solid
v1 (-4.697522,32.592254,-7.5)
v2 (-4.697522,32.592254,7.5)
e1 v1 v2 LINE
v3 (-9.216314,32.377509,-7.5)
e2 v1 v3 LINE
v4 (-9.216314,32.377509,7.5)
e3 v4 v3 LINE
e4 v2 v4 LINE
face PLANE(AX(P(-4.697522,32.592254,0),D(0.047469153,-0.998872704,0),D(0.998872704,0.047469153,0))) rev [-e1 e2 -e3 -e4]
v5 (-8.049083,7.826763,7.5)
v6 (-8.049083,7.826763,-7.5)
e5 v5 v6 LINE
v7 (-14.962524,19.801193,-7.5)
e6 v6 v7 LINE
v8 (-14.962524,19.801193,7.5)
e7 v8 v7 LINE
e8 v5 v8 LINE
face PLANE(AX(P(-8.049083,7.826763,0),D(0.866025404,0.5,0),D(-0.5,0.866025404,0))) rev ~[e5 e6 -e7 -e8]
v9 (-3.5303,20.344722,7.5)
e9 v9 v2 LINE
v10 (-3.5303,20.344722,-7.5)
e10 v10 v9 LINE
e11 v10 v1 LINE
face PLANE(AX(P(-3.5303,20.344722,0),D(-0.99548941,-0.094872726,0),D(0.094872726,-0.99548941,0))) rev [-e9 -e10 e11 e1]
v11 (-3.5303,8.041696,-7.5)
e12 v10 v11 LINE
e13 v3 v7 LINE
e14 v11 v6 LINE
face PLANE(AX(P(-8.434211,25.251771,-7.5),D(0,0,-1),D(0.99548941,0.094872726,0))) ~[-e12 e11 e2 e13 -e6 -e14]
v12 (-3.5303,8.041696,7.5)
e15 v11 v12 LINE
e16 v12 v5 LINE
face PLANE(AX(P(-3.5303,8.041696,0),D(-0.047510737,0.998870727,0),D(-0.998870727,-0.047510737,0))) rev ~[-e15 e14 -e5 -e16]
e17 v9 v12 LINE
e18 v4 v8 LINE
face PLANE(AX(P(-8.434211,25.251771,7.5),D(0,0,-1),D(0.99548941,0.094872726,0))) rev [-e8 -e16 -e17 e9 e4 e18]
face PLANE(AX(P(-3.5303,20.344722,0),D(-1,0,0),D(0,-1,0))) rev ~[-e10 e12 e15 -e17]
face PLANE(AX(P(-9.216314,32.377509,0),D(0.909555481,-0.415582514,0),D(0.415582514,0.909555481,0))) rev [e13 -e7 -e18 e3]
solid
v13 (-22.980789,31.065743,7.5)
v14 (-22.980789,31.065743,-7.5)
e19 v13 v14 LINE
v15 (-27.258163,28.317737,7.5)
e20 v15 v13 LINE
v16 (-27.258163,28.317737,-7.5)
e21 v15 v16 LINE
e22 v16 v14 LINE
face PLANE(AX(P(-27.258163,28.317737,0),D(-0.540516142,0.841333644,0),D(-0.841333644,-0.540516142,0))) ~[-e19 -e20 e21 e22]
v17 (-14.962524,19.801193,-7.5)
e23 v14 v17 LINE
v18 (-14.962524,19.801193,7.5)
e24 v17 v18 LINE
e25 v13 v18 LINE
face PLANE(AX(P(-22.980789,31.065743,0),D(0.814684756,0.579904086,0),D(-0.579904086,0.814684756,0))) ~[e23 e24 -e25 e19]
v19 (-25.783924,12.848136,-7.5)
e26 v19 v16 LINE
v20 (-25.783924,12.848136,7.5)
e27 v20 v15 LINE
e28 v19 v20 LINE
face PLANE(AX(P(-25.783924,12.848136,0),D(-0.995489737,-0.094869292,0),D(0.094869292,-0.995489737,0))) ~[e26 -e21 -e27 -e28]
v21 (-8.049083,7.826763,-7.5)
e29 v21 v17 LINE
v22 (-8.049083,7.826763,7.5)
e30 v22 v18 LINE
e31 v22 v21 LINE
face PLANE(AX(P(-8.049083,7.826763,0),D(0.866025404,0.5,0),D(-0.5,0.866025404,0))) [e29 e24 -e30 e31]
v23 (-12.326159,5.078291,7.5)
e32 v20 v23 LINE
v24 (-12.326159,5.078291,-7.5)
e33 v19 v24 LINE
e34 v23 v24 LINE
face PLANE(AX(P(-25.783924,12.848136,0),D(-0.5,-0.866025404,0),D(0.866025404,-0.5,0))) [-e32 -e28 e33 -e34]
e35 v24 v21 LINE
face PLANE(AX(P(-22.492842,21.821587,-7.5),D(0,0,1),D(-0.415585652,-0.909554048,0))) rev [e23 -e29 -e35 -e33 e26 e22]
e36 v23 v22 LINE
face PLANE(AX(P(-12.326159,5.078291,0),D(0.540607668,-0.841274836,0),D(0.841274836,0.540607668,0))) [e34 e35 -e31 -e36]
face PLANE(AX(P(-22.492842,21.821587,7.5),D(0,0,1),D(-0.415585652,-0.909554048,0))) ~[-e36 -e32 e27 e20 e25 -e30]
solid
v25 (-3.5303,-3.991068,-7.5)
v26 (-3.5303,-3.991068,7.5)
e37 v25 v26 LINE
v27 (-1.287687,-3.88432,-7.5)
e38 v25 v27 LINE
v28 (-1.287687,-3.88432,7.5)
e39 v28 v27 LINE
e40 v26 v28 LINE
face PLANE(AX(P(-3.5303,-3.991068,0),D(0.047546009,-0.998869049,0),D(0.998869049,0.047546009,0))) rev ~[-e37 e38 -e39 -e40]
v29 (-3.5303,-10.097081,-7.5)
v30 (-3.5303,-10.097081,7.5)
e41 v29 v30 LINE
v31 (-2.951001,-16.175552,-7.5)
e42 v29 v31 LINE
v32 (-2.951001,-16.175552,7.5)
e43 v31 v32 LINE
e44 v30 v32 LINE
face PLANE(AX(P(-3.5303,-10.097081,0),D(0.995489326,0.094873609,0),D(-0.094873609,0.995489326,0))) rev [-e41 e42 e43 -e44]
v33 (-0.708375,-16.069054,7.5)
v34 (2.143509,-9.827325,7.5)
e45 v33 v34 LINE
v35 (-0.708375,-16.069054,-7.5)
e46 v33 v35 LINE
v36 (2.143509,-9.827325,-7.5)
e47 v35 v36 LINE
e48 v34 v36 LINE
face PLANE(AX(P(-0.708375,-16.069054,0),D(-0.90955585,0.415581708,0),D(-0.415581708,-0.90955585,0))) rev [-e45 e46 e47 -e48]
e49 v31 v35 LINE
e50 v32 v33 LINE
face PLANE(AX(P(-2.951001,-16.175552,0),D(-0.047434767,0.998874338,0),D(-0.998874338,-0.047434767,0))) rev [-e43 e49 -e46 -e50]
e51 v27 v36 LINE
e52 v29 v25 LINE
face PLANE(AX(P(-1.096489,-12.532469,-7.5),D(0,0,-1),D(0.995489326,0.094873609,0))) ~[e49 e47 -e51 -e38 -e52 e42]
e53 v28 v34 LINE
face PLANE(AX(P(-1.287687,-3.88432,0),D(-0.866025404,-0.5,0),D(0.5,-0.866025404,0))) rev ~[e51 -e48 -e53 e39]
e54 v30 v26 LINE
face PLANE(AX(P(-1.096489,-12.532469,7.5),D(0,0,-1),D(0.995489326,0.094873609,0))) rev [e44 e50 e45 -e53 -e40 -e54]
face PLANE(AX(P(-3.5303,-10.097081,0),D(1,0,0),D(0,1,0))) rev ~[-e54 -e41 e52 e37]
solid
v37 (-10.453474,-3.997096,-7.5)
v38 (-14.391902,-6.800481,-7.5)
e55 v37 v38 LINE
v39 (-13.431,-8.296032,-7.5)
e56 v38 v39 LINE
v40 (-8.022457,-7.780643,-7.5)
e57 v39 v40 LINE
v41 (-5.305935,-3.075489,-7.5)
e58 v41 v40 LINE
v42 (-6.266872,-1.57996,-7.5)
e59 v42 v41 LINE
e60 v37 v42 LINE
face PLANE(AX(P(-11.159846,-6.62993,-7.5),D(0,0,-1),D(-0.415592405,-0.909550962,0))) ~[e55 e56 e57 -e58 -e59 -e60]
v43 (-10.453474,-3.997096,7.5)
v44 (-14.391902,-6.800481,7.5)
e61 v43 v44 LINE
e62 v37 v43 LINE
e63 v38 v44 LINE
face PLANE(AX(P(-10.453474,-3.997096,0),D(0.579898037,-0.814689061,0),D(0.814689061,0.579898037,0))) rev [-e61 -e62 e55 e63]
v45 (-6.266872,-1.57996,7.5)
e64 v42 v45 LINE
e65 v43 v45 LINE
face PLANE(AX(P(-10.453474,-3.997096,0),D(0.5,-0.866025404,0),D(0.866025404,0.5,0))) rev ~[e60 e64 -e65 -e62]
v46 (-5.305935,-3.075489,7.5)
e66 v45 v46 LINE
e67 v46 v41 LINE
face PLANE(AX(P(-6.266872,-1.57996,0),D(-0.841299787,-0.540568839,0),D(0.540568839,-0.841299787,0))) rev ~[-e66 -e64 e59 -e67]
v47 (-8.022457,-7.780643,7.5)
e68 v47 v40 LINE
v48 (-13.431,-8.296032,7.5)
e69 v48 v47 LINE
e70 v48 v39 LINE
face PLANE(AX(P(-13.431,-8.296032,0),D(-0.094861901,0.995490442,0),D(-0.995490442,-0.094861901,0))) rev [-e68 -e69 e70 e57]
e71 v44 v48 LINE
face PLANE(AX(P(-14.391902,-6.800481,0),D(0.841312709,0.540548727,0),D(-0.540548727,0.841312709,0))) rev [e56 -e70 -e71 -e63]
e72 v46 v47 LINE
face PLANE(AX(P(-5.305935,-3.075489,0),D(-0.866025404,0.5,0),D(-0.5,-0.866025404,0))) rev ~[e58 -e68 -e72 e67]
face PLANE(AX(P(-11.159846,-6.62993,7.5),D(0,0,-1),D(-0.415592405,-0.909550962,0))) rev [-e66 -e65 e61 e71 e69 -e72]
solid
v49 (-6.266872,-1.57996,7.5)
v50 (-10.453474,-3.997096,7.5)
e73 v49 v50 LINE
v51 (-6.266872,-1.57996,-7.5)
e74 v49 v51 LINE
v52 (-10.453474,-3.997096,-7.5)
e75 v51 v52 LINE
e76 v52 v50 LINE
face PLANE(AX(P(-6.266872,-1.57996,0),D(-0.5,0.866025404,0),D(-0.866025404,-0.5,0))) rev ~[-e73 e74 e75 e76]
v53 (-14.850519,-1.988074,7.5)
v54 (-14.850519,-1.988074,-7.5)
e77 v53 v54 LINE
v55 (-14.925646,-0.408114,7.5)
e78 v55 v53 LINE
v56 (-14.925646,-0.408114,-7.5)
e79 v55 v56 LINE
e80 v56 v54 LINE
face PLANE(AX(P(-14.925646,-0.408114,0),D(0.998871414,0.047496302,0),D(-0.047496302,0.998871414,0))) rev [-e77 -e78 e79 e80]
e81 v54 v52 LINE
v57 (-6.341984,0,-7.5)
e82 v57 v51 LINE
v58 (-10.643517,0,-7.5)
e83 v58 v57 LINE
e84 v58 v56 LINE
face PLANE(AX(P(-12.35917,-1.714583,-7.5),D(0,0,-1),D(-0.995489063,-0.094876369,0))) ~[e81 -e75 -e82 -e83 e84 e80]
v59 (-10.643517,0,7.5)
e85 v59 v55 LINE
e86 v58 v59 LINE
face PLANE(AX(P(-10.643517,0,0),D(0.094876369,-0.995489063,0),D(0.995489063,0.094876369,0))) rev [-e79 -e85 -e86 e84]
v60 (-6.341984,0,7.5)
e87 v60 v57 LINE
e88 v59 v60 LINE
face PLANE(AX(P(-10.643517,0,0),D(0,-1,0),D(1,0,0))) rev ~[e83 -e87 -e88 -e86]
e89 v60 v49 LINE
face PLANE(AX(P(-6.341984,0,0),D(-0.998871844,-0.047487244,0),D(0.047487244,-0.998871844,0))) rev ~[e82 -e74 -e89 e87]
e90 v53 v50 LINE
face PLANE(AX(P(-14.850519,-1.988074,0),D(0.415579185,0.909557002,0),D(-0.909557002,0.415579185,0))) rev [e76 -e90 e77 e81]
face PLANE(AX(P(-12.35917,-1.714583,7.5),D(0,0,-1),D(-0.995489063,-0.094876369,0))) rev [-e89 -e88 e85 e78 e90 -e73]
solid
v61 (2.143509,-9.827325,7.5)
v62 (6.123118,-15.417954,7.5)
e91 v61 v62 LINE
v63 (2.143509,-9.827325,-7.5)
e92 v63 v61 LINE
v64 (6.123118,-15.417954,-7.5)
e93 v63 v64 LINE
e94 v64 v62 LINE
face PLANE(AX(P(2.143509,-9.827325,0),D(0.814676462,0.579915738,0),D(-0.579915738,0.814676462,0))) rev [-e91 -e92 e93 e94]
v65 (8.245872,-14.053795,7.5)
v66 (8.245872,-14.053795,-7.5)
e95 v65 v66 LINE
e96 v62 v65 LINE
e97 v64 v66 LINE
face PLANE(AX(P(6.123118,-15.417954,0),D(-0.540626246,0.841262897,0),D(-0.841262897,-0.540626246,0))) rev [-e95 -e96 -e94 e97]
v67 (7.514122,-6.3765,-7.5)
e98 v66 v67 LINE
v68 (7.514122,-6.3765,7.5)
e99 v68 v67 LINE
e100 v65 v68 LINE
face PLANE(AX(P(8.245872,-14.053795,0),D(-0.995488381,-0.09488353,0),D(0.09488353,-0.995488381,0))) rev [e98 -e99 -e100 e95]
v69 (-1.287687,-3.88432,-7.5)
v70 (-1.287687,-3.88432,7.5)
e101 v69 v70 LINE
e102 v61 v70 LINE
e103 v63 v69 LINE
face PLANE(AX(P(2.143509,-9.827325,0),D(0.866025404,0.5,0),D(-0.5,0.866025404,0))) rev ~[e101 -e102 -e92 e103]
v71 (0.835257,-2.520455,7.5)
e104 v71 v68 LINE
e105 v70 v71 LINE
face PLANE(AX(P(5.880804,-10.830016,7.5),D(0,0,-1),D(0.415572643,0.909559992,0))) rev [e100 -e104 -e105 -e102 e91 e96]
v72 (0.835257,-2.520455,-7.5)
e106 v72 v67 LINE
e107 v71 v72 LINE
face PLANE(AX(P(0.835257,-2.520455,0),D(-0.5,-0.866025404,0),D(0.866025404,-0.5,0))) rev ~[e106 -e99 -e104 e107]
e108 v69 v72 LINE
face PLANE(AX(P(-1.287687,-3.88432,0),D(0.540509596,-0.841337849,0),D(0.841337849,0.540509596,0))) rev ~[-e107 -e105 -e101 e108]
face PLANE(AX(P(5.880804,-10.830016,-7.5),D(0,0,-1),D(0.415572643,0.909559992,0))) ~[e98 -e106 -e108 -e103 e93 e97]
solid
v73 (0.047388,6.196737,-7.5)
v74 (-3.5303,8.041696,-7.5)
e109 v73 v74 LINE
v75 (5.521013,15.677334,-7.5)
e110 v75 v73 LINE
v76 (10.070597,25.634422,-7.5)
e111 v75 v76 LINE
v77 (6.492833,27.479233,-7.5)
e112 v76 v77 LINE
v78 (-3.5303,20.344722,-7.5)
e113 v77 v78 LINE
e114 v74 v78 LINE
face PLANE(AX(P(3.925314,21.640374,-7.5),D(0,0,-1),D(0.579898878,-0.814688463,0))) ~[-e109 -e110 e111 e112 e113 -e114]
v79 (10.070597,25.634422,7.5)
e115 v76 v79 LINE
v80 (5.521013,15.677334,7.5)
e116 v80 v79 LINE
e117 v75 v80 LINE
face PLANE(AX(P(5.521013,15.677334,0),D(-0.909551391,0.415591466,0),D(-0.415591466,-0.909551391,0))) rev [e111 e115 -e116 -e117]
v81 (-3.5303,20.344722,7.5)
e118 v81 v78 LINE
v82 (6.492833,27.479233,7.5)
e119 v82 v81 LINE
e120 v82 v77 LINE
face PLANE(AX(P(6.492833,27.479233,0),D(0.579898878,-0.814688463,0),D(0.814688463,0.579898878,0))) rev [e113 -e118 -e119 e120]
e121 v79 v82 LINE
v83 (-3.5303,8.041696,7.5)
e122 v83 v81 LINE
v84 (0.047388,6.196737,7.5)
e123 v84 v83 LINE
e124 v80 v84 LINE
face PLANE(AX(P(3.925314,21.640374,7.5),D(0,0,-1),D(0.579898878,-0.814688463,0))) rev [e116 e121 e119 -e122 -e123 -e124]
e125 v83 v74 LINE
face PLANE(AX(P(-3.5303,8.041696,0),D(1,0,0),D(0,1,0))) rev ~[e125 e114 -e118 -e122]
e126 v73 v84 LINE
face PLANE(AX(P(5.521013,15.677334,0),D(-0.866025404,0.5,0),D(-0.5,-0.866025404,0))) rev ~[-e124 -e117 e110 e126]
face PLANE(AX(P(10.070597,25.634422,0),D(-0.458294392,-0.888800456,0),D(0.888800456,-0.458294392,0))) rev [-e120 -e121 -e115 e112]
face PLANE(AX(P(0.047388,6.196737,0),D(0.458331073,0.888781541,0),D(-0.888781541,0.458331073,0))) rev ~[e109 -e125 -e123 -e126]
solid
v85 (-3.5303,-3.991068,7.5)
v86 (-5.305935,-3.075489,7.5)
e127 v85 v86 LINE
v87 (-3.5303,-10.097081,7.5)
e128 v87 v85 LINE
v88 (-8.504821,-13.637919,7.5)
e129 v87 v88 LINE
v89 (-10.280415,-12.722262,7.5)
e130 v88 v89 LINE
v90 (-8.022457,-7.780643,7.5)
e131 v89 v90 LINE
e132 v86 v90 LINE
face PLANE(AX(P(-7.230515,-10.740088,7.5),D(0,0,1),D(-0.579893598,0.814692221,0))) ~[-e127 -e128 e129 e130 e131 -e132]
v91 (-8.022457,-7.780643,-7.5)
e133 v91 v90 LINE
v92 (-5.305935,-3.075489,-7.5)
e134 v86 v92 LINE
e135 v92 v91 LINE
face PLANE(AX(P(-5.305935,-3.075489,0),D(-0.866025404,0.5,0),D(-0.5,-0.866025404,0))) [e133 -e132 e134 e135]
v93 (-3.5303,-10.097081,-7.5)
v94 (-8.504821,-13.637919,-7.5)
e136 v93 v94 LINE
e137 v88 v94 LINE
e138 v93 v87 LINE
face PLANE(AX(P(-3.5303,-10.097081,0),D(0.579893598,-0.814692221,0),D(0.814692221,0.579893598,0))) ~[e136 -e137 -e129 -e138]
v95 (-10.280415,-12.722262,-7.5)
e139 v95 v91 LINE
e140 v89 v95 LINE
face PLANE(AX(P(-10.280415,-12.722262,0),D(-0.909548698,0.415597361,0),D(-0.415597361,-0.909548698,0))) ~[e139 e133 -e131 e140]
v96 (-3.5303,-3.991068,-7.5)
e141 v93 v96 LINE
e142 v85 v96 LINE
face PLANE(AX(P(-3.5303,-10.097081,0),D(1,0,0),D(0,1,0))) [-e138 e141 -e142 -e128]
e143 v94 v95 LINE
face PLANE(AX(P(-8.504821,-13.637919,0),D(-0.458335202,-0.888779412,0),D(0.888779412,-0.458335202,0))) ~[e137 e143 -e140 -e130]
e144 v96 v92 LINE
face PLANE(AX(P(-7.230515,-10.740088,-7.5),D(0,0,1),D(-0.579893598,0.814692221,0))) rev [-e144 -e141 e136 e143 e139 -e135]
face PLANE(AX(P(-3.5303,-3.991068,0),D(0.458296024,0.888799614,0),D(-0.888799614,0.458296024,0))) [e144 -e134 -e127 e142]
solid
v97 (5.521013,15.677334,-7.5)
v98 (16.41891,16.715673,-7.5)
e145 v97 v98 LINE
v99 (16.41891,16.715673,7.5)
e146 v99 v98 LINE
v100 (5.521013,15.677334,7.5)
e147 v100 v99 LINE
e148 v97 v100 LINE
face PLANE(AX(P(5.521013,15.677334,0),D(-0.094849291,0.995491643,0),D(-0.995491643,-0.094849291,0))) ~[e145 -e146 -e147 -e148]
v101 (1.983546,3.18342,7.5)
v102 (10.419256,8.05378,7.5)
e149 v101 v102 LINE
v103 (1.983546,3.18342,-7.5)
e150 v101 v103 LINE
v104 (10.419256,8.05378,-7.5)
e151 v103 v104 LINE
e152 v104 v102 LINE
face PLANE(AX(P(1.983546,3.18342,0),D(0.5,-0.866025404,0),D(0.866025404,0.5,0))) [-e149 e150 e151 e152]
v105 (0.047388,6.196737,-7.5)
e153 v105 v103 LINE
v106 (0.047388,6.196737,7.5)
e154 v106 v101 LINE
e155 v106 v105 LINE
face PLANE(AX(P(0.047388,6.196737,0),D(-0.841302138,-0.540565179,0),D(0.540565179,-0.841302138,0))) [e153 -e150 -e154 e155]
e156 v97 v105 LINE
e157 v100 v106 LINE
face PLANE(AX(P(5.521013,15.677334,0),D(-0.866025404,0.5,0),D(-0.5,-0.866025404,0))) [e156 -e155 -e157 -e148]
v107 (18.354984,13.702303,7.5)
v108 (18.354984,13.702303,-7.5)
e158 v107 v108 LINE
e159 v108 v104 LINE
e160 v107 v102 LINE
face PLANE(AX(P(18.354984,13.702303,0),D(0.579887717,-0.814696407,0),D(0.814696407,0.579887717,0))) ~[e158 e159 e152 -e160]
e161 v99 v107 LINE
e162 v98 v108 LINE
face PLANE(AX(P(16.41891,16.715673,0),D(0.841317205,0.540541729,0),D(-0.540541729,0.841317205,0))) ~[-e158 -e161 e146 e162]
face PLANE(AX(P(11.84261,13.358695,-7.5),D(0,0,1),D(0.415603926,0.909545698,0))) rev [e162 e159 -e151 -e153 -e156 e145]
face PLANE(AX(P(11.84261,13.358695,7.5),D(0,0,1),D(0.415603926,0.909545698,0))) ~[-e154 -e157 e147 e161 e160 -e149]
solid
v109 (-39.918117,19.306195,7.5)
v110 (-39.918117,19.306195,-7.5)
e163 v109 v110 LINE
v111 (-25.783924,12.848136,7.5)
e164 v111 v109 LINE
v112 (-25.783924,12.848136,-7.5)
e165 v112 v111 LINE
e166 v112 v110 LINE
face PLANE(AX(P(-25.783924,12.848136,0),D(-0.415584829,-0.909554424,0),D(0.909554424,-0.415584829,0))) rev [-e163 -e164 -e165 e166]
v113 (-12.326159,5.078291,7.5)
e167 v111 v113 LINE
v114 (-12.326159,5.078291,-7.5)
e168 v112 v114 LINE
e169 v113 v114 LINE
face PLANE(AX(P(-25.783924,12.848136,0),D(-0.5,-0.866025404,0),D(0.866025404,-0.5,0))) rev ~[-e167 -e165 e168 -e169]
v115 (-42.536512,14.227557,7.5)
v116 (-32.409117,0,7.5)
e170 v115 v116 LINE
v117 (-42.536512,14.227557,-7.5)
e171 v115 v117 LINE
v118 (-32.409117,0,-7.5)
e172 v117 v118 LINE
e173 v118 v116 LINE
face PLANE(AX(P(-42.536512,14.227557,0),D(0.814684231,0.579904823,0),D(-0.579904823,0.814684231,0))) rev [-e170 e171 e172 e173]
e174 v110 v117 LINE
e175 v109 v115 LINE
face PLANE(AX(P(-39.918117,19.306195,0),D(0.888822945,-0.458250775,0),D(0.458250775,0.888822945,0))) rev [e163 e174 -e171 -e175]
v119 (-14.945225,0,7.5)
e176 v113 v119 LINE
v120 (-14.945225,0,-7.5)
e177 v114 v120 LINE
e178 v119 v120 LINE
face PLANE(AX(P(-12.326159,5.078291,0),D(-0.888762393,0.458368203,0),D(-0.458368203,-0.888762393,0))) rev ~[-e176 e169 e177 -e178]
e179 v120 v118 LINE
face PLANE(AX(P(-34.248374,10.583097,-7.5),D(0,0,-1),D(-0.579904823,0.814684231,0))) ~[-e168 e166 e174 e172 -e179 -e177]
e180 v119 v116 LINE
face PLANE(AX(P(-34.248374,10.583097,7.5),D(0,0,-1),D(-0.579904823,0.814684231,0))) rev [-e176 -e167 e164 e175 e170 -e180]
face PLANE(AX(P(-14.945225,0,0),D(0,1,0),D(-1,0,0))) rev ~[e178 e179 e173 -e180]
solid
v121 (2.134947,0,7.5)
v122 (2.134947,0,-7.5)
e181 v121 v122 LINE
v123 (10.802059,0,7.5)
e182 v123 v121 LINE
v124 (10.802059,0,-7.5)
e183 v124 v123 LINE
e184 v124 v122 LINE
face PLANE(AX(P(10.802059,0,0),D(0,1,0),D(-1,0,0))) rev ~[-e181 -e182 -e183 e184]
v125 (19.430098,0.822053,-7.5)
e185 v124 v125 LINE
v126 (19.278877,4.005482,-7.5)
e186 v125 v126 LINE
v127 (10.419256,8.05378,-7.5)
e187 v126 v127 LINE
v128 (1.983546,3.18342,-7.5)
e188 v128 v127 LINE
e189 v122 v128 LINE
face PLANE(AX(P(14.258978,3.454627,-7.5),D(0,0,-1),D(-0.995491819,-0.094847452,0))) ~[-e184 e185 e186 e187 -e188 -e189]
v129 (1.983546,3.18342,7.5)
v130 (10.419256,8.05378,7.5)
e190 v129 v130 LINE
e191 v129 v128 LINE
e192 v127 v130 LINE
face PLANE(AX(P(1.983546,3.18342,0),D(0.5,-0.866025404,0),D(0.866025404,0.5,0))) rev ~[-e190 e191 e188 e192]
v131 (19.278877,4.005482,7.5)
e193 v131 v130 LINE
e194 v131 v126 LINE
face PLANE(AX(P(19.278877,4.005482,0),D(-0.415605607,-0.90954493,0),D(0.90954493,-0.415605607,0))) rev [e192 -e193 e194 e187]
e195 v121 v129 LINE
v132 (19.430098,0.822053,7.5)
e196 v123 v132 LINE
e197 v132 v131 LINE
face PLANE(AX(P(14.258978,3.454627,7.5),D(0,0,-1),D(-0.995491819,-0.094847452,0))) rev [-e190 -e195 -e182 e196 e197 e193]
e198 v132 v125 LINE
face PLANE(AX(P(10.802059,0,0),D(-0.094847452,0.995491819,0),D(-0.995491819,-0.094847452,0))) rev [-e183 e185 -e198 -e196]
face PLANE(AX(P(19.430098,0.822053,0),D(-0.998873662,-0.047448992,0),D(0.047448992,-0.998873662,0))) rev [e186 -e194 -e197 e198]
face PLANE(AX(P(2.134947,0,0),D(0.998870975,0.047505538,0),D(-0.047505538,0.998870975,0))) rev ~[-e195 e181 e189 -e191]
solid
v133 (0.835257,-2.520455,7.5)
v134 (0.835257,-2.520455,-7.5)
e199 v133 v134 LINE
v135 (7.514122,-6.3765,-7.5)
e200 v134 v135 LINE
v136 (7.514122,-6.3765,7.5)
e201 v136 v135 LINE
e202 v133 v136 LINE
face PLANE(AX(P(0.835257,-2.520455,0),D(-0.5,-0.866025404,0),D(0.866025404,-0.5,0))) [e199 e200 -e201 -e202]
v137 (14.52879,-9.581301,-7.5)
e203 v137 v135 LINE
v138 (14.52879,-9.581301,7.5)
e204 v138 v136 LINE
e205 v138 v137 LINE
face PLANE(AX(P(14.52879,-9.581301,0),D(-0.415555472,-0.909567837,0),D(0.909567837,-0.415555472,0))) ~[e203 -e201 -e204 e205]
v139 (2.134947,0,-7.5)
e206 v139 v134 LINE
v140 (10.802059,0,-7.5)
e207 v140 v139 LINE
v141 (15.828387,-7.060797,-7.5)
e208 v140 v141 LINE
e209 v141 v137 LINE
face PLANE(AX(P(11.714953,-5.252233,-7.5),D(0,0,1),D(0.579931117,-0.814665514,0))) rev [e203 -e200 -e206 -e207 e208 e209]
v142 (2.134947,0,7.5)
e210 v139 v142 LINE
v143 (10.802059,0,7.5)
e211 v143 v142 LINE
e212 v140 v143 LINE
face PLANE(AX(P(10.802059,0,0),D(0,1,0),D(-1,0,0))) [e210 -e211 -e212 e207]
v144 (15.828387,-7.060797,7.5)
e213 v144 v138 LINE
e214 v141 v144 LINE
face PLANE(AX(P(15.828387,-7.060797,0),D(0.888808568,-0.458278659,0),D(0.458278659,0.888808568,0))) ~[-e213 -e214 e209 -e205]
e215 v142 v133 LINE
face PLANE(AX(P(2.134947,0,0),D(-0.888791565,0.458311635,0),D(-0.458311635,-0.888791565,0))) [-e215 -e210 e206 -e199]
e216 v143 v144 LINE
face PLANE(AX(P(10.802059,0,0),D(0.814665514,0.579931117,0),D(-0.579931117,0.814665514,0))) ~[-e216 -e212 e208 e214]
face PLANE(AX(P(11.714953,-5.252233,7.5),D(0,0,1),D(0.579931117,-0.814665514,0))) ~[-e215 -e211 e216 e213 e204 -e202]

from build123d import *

# Parameters (mm, degrees)
BOSS_EXTRU_1_DEPTH  = 7.5
BOSS_EXTRU_3_DEPTH  = 7.5
BOSS_EXTRU_4_DEPTH  = 7.5
BOSS_EXTRU_5_DEPTH  = 7.5
BOSS_EXTRU_6_DEPTH  = 7.5
BOSS_EXTRU_7_DEPTH  = 7.5
BOSS_EXTRU_8_DEPTH  = 7.5
BOSS_EXTRU_9_DEPTH  = 7.5
BOSS_EXTRU_10_DEPTH = 7.5
BOSS_EXTRU_11_DEPTH = 7.5
BOSS_EXTRU_12_DEPTH = 7.5
BOSS_EXTRU_13_DEPTH = 7.5


with BuildPart() as part:
    # Esquisse20 → Boss.-Extru.1 (new body, symmetric)
    with BuildSketch(Plane.XY):
        Polygon((-10.643517195, 0), (-6.341984433, 0), (-6.266871728, -1.579960424), (-10.453473573, -3.997096126), align=None)
    extrude(amount=BOSS_EXTRU_1_DEPTH, both=True)

    # Symétrie1: part across plane


with BuildPart() as body_2:
    # Esquisse21 → Boss.-Extru.3 (new body, symmetric)
    with BuildSketch(Plane.XY):
        Polygon((-5.305934527, -3.075489216), (-8.022456613, -7.780643489), (-3.5303, -10.097081162), (-3.5303, -3.991068195), align=None)
    extrude(amount=BOSS_EXTRU_3_DEPTH, both=True)

    # Symétrie3: body 2 across plane


with BuildPart() as body_3:
    # Esquisse22 → Boss.-Extru.4 (new body, symmetric)
    with BuildSketch(Plane.XY):
        Polygon((-6.266871728, -1.579960424), (-5.305934527, -3.075489216), (-8.022456613, -7.780643489), (-10.453473573, -3.997096126), align=None)
    extrude(amount=BOSS_EXTRU_4_DEPTH, both=True)

    # Symétrie2: body 3 across plane


with BuildPart() as body_4:
    # Esquisse23 → Boss.-Extru.5 (new body, symmetric)
    with BuildSketch(Plane.XY):
        Polygon((-3.5303, -3.991068195), (-1.287686712, -3.884320156), (2.143508969, -9.827325407), (-3.5303, -10.097081162), align=None)
    extrude(amount=BOSS_EXTRU_5_DEPTH, both=True)

    # Symétrie4: body 4 across plane


with BuildPart() as body_5:
    # Esquisse24 → Boss.-Extru.6 (new body, symmetric)
    with BuildSketch(Plane.XY):
        Polygon((-1.287686712, -3.884320156), (0.835256513, -2.520455228), (7.51412158, -6.376499772), (2.143508969, -9.827325407), align=None)
    extrude(amount=BOSS_EXTRU_6_DEPTH, both=True)

    # Symétrie5: body 5 across plane


with BuildPart() as body_6:
    # Esquisse25 → Boss.-Extru.7 (new body, symmetric)
    with BuildSketch(Plane.XY):
        Polygon((7.51412158, -6.376499772), (10.80205889, 0), (2.134947016, 0), (0.835256513, -2.520455228), align=None)
    extrude(amount=BOSS_EXTRU_7_DEPTH, both=True)

    # Symétrie6: body 6 across plane


with BuildPart() as body_7:
    # Esquisse26 → Boss.-Extru.8 (new body, symmetric)
    with BuildSketch(Plane.XY):
        Polygon((10.80205889, 0), (2.134947016, 0), (1.983545978, 3.18342046), (10.419255773, 8.053779781), align=None)
    extrude(amount=BOSS_EXTRU_8_DEPTH, both=True)

    # Symétrie7: body 7 across plane


with BuildPart() as body_8:
    # Esquisse27 → Boss.-Extru.9 (new body, symmetric)
    with BuildSketch(Plane.XY):
        Polygon((1.983545978, 3.18342046), (10.419255773, 8.053779781), (5.521013255, 15.677334433), (0.047387798, 6.19673704), align=None)
    extrude(amount=BOSS_EXTRU_9_DEPTH, both=True)

    # Symétrie8: body 8 across plane


with BuildPart() as body_9:
    # Esquisse28 → Boss.-Extru.10 (new body, symmetric)
    with BuildSketch(Plane.XY):
        Polygon((0.047387798, 6.19673704), (-3.5303, 8.041696023), (-3.5303, 20.344722064), (5.521013255, 15.677334433), align=None)
    extrude(amount=BOSS_EXTRU_10_DEPTH, both=True)

    # Symétrie9: body 9 across plane


with BuildPart() as body_10:
    # Esquisse29 → Boss.-Extru.11 (new body, symmetric)
    with BuildSketch(Plane.XY):
        Polygon((-3.5303, 8.041696023), (-8.049083477, 7.82676257), (-14.962524173, 19.801193112), (-3.5303, 20.344722064), align=None)
    extrude(amount=BOSS_EXTRU_11_DEPTH, both=True)

    # Symétrie10: body 10 across plane


with BuildPart() as body_11:
    # Esquisse30 → Boss.-Extru.12 (new body, symmetric)
    with BuildSketch(Plane.XY):
        Polygon((-8.049083477, 7.82676257), (-14.962524173, 19.801193112), (-25.783924084, 12.848135855), (-12.326158681, 5.078291377), align=None)
    extrude(amount=BOSS_EXTRU_12_DEPTH, both=True)

    # Symétrie11: body 11 across plane


with BuildPart() as body_12:
    # Esquisse31 → Boss.-Extru.13 (new body, symmetric)
    with BuildSketch(Plane.XY):
        Polygon((-25.783924084, 12.848135855), (-12.326158681, 5.078291377), (-14.945224597, 0), (-32.409116649, 0), align=None)
    extrude(amount=BOSS_EXTRU_13_DEPTH, both=True)

    # Symétrie12: body 12 across plane


with BuildPart() as part_1:
    add(part.part)
    add(part.part.mirror(Plane(origin=(-10.453473573, -3.997096126, 7.5), x_dir=(0, 0, 1), z_dir=(-0.998871629, -0.047491773, 0))))


with BuildPart() as body_3_1:
    add(body_3.part)
    add(body_3.part.mirror(Plane(origin=(-8.022456613, -7.780643489, 7.5), x_dir=(0, 0, 1), z_dir=(0.841306248, 0.540558783, 0))))


with BuildPart() as body_2_1:
    add(body_2.part)
    add(body_2.part.mirror(Plane(origin=(-8.022456613, -7.780643489, 7.5), x_dir=(0, 0, 1), z_dir=(0.458315613, 0.888789513, 0))))


with BuildPart() as body_4_1:
    add(body_4.part)
    add(body_4.part.mirror(Plane(origin=(2.143508969, -9.827325407, 7.5), x_dir=(0, 0, 1), z_dir=(-0.047490388, 0.998871695, 0))))


with BuildPart() as body_5_1:
    add(body_5.part)
    add(body_5.part.mirror(Plane(origin=(7.51412158, -6.376499772, 7.5), x_dir=(0, 0, 1), z_dir=(-0.540567922, 0.841300375, 0))))


with BuildPart() as body_6_1:
    add(body_6.part)
    add(body_6.part.mirror(Plane(origin=(7.51412158, -6.376499772, 7.5), x_dir=(0, 0, 1), z_dir=(-0.888800067, 0.458295147, 0))))


with BuildPart() as body_7_1:
    add(body_7.part)
    add(body_7.part.mirror(Plane(origin=(10.419255773, 8.053779781, 7.5), x_dir=(0, 0, 1), z_dir=(-0.998872319, -0.047477265, 0))))


with BuildPart() as body_8_1:
    add(body_8.part)
    add(body_8.part.mirror(Plane(origin=(10.419255773, 8.053779781, 7.5), x_dir=(0, 0, 1), z_dir=(-0.841309671, -0.540553454, 0))))


with BuildPart() as body_9_1:
    add(body_9.part)
    add(body_9.part.mirror(Plane(origin=(-3.5303, 20.344722064, 7.5), x_dir=(0, 0, 1), z_dir=(-0.458312733, -0.888790999, 0))))


with BuildPart() as body_10_1:
    add(body_10.part)
    add(body_10.part.mirror(Plane(origin=(-14.962524173, 19.801193112, 7.5), x_dir=(0, 0, 1), z_dir=(0.047489945, -0.998871716, 0))))


with BuildPart() as body_11_1:
    add(body_11.part)
    add(body_11.part.mirror(Plane(origin=(-14.962524173, 19.801193112, 7.5), x_dir=(0, 0, 1), z_dir=(0.540561906, -0.841304241, 0))))


with BuildPart() as body_12_1:
    add(body_12.part)
    add(body_12.part.mirror(Plane(origin=(-32.409116649, 0, 7.5), x_dir=(0, 0, 1), z_dir=(0.888792671, -0.45830949, 0))))


solid = Compound([part_1.part, body_3_1.part, body_2_1.part, body_4_1.part, body_5_1.part, body_6_1.part, body_7_1.part, body_8_1.part, body_9_1.part, body_10_1.part, body_11_1.part, body_12_1.part])
